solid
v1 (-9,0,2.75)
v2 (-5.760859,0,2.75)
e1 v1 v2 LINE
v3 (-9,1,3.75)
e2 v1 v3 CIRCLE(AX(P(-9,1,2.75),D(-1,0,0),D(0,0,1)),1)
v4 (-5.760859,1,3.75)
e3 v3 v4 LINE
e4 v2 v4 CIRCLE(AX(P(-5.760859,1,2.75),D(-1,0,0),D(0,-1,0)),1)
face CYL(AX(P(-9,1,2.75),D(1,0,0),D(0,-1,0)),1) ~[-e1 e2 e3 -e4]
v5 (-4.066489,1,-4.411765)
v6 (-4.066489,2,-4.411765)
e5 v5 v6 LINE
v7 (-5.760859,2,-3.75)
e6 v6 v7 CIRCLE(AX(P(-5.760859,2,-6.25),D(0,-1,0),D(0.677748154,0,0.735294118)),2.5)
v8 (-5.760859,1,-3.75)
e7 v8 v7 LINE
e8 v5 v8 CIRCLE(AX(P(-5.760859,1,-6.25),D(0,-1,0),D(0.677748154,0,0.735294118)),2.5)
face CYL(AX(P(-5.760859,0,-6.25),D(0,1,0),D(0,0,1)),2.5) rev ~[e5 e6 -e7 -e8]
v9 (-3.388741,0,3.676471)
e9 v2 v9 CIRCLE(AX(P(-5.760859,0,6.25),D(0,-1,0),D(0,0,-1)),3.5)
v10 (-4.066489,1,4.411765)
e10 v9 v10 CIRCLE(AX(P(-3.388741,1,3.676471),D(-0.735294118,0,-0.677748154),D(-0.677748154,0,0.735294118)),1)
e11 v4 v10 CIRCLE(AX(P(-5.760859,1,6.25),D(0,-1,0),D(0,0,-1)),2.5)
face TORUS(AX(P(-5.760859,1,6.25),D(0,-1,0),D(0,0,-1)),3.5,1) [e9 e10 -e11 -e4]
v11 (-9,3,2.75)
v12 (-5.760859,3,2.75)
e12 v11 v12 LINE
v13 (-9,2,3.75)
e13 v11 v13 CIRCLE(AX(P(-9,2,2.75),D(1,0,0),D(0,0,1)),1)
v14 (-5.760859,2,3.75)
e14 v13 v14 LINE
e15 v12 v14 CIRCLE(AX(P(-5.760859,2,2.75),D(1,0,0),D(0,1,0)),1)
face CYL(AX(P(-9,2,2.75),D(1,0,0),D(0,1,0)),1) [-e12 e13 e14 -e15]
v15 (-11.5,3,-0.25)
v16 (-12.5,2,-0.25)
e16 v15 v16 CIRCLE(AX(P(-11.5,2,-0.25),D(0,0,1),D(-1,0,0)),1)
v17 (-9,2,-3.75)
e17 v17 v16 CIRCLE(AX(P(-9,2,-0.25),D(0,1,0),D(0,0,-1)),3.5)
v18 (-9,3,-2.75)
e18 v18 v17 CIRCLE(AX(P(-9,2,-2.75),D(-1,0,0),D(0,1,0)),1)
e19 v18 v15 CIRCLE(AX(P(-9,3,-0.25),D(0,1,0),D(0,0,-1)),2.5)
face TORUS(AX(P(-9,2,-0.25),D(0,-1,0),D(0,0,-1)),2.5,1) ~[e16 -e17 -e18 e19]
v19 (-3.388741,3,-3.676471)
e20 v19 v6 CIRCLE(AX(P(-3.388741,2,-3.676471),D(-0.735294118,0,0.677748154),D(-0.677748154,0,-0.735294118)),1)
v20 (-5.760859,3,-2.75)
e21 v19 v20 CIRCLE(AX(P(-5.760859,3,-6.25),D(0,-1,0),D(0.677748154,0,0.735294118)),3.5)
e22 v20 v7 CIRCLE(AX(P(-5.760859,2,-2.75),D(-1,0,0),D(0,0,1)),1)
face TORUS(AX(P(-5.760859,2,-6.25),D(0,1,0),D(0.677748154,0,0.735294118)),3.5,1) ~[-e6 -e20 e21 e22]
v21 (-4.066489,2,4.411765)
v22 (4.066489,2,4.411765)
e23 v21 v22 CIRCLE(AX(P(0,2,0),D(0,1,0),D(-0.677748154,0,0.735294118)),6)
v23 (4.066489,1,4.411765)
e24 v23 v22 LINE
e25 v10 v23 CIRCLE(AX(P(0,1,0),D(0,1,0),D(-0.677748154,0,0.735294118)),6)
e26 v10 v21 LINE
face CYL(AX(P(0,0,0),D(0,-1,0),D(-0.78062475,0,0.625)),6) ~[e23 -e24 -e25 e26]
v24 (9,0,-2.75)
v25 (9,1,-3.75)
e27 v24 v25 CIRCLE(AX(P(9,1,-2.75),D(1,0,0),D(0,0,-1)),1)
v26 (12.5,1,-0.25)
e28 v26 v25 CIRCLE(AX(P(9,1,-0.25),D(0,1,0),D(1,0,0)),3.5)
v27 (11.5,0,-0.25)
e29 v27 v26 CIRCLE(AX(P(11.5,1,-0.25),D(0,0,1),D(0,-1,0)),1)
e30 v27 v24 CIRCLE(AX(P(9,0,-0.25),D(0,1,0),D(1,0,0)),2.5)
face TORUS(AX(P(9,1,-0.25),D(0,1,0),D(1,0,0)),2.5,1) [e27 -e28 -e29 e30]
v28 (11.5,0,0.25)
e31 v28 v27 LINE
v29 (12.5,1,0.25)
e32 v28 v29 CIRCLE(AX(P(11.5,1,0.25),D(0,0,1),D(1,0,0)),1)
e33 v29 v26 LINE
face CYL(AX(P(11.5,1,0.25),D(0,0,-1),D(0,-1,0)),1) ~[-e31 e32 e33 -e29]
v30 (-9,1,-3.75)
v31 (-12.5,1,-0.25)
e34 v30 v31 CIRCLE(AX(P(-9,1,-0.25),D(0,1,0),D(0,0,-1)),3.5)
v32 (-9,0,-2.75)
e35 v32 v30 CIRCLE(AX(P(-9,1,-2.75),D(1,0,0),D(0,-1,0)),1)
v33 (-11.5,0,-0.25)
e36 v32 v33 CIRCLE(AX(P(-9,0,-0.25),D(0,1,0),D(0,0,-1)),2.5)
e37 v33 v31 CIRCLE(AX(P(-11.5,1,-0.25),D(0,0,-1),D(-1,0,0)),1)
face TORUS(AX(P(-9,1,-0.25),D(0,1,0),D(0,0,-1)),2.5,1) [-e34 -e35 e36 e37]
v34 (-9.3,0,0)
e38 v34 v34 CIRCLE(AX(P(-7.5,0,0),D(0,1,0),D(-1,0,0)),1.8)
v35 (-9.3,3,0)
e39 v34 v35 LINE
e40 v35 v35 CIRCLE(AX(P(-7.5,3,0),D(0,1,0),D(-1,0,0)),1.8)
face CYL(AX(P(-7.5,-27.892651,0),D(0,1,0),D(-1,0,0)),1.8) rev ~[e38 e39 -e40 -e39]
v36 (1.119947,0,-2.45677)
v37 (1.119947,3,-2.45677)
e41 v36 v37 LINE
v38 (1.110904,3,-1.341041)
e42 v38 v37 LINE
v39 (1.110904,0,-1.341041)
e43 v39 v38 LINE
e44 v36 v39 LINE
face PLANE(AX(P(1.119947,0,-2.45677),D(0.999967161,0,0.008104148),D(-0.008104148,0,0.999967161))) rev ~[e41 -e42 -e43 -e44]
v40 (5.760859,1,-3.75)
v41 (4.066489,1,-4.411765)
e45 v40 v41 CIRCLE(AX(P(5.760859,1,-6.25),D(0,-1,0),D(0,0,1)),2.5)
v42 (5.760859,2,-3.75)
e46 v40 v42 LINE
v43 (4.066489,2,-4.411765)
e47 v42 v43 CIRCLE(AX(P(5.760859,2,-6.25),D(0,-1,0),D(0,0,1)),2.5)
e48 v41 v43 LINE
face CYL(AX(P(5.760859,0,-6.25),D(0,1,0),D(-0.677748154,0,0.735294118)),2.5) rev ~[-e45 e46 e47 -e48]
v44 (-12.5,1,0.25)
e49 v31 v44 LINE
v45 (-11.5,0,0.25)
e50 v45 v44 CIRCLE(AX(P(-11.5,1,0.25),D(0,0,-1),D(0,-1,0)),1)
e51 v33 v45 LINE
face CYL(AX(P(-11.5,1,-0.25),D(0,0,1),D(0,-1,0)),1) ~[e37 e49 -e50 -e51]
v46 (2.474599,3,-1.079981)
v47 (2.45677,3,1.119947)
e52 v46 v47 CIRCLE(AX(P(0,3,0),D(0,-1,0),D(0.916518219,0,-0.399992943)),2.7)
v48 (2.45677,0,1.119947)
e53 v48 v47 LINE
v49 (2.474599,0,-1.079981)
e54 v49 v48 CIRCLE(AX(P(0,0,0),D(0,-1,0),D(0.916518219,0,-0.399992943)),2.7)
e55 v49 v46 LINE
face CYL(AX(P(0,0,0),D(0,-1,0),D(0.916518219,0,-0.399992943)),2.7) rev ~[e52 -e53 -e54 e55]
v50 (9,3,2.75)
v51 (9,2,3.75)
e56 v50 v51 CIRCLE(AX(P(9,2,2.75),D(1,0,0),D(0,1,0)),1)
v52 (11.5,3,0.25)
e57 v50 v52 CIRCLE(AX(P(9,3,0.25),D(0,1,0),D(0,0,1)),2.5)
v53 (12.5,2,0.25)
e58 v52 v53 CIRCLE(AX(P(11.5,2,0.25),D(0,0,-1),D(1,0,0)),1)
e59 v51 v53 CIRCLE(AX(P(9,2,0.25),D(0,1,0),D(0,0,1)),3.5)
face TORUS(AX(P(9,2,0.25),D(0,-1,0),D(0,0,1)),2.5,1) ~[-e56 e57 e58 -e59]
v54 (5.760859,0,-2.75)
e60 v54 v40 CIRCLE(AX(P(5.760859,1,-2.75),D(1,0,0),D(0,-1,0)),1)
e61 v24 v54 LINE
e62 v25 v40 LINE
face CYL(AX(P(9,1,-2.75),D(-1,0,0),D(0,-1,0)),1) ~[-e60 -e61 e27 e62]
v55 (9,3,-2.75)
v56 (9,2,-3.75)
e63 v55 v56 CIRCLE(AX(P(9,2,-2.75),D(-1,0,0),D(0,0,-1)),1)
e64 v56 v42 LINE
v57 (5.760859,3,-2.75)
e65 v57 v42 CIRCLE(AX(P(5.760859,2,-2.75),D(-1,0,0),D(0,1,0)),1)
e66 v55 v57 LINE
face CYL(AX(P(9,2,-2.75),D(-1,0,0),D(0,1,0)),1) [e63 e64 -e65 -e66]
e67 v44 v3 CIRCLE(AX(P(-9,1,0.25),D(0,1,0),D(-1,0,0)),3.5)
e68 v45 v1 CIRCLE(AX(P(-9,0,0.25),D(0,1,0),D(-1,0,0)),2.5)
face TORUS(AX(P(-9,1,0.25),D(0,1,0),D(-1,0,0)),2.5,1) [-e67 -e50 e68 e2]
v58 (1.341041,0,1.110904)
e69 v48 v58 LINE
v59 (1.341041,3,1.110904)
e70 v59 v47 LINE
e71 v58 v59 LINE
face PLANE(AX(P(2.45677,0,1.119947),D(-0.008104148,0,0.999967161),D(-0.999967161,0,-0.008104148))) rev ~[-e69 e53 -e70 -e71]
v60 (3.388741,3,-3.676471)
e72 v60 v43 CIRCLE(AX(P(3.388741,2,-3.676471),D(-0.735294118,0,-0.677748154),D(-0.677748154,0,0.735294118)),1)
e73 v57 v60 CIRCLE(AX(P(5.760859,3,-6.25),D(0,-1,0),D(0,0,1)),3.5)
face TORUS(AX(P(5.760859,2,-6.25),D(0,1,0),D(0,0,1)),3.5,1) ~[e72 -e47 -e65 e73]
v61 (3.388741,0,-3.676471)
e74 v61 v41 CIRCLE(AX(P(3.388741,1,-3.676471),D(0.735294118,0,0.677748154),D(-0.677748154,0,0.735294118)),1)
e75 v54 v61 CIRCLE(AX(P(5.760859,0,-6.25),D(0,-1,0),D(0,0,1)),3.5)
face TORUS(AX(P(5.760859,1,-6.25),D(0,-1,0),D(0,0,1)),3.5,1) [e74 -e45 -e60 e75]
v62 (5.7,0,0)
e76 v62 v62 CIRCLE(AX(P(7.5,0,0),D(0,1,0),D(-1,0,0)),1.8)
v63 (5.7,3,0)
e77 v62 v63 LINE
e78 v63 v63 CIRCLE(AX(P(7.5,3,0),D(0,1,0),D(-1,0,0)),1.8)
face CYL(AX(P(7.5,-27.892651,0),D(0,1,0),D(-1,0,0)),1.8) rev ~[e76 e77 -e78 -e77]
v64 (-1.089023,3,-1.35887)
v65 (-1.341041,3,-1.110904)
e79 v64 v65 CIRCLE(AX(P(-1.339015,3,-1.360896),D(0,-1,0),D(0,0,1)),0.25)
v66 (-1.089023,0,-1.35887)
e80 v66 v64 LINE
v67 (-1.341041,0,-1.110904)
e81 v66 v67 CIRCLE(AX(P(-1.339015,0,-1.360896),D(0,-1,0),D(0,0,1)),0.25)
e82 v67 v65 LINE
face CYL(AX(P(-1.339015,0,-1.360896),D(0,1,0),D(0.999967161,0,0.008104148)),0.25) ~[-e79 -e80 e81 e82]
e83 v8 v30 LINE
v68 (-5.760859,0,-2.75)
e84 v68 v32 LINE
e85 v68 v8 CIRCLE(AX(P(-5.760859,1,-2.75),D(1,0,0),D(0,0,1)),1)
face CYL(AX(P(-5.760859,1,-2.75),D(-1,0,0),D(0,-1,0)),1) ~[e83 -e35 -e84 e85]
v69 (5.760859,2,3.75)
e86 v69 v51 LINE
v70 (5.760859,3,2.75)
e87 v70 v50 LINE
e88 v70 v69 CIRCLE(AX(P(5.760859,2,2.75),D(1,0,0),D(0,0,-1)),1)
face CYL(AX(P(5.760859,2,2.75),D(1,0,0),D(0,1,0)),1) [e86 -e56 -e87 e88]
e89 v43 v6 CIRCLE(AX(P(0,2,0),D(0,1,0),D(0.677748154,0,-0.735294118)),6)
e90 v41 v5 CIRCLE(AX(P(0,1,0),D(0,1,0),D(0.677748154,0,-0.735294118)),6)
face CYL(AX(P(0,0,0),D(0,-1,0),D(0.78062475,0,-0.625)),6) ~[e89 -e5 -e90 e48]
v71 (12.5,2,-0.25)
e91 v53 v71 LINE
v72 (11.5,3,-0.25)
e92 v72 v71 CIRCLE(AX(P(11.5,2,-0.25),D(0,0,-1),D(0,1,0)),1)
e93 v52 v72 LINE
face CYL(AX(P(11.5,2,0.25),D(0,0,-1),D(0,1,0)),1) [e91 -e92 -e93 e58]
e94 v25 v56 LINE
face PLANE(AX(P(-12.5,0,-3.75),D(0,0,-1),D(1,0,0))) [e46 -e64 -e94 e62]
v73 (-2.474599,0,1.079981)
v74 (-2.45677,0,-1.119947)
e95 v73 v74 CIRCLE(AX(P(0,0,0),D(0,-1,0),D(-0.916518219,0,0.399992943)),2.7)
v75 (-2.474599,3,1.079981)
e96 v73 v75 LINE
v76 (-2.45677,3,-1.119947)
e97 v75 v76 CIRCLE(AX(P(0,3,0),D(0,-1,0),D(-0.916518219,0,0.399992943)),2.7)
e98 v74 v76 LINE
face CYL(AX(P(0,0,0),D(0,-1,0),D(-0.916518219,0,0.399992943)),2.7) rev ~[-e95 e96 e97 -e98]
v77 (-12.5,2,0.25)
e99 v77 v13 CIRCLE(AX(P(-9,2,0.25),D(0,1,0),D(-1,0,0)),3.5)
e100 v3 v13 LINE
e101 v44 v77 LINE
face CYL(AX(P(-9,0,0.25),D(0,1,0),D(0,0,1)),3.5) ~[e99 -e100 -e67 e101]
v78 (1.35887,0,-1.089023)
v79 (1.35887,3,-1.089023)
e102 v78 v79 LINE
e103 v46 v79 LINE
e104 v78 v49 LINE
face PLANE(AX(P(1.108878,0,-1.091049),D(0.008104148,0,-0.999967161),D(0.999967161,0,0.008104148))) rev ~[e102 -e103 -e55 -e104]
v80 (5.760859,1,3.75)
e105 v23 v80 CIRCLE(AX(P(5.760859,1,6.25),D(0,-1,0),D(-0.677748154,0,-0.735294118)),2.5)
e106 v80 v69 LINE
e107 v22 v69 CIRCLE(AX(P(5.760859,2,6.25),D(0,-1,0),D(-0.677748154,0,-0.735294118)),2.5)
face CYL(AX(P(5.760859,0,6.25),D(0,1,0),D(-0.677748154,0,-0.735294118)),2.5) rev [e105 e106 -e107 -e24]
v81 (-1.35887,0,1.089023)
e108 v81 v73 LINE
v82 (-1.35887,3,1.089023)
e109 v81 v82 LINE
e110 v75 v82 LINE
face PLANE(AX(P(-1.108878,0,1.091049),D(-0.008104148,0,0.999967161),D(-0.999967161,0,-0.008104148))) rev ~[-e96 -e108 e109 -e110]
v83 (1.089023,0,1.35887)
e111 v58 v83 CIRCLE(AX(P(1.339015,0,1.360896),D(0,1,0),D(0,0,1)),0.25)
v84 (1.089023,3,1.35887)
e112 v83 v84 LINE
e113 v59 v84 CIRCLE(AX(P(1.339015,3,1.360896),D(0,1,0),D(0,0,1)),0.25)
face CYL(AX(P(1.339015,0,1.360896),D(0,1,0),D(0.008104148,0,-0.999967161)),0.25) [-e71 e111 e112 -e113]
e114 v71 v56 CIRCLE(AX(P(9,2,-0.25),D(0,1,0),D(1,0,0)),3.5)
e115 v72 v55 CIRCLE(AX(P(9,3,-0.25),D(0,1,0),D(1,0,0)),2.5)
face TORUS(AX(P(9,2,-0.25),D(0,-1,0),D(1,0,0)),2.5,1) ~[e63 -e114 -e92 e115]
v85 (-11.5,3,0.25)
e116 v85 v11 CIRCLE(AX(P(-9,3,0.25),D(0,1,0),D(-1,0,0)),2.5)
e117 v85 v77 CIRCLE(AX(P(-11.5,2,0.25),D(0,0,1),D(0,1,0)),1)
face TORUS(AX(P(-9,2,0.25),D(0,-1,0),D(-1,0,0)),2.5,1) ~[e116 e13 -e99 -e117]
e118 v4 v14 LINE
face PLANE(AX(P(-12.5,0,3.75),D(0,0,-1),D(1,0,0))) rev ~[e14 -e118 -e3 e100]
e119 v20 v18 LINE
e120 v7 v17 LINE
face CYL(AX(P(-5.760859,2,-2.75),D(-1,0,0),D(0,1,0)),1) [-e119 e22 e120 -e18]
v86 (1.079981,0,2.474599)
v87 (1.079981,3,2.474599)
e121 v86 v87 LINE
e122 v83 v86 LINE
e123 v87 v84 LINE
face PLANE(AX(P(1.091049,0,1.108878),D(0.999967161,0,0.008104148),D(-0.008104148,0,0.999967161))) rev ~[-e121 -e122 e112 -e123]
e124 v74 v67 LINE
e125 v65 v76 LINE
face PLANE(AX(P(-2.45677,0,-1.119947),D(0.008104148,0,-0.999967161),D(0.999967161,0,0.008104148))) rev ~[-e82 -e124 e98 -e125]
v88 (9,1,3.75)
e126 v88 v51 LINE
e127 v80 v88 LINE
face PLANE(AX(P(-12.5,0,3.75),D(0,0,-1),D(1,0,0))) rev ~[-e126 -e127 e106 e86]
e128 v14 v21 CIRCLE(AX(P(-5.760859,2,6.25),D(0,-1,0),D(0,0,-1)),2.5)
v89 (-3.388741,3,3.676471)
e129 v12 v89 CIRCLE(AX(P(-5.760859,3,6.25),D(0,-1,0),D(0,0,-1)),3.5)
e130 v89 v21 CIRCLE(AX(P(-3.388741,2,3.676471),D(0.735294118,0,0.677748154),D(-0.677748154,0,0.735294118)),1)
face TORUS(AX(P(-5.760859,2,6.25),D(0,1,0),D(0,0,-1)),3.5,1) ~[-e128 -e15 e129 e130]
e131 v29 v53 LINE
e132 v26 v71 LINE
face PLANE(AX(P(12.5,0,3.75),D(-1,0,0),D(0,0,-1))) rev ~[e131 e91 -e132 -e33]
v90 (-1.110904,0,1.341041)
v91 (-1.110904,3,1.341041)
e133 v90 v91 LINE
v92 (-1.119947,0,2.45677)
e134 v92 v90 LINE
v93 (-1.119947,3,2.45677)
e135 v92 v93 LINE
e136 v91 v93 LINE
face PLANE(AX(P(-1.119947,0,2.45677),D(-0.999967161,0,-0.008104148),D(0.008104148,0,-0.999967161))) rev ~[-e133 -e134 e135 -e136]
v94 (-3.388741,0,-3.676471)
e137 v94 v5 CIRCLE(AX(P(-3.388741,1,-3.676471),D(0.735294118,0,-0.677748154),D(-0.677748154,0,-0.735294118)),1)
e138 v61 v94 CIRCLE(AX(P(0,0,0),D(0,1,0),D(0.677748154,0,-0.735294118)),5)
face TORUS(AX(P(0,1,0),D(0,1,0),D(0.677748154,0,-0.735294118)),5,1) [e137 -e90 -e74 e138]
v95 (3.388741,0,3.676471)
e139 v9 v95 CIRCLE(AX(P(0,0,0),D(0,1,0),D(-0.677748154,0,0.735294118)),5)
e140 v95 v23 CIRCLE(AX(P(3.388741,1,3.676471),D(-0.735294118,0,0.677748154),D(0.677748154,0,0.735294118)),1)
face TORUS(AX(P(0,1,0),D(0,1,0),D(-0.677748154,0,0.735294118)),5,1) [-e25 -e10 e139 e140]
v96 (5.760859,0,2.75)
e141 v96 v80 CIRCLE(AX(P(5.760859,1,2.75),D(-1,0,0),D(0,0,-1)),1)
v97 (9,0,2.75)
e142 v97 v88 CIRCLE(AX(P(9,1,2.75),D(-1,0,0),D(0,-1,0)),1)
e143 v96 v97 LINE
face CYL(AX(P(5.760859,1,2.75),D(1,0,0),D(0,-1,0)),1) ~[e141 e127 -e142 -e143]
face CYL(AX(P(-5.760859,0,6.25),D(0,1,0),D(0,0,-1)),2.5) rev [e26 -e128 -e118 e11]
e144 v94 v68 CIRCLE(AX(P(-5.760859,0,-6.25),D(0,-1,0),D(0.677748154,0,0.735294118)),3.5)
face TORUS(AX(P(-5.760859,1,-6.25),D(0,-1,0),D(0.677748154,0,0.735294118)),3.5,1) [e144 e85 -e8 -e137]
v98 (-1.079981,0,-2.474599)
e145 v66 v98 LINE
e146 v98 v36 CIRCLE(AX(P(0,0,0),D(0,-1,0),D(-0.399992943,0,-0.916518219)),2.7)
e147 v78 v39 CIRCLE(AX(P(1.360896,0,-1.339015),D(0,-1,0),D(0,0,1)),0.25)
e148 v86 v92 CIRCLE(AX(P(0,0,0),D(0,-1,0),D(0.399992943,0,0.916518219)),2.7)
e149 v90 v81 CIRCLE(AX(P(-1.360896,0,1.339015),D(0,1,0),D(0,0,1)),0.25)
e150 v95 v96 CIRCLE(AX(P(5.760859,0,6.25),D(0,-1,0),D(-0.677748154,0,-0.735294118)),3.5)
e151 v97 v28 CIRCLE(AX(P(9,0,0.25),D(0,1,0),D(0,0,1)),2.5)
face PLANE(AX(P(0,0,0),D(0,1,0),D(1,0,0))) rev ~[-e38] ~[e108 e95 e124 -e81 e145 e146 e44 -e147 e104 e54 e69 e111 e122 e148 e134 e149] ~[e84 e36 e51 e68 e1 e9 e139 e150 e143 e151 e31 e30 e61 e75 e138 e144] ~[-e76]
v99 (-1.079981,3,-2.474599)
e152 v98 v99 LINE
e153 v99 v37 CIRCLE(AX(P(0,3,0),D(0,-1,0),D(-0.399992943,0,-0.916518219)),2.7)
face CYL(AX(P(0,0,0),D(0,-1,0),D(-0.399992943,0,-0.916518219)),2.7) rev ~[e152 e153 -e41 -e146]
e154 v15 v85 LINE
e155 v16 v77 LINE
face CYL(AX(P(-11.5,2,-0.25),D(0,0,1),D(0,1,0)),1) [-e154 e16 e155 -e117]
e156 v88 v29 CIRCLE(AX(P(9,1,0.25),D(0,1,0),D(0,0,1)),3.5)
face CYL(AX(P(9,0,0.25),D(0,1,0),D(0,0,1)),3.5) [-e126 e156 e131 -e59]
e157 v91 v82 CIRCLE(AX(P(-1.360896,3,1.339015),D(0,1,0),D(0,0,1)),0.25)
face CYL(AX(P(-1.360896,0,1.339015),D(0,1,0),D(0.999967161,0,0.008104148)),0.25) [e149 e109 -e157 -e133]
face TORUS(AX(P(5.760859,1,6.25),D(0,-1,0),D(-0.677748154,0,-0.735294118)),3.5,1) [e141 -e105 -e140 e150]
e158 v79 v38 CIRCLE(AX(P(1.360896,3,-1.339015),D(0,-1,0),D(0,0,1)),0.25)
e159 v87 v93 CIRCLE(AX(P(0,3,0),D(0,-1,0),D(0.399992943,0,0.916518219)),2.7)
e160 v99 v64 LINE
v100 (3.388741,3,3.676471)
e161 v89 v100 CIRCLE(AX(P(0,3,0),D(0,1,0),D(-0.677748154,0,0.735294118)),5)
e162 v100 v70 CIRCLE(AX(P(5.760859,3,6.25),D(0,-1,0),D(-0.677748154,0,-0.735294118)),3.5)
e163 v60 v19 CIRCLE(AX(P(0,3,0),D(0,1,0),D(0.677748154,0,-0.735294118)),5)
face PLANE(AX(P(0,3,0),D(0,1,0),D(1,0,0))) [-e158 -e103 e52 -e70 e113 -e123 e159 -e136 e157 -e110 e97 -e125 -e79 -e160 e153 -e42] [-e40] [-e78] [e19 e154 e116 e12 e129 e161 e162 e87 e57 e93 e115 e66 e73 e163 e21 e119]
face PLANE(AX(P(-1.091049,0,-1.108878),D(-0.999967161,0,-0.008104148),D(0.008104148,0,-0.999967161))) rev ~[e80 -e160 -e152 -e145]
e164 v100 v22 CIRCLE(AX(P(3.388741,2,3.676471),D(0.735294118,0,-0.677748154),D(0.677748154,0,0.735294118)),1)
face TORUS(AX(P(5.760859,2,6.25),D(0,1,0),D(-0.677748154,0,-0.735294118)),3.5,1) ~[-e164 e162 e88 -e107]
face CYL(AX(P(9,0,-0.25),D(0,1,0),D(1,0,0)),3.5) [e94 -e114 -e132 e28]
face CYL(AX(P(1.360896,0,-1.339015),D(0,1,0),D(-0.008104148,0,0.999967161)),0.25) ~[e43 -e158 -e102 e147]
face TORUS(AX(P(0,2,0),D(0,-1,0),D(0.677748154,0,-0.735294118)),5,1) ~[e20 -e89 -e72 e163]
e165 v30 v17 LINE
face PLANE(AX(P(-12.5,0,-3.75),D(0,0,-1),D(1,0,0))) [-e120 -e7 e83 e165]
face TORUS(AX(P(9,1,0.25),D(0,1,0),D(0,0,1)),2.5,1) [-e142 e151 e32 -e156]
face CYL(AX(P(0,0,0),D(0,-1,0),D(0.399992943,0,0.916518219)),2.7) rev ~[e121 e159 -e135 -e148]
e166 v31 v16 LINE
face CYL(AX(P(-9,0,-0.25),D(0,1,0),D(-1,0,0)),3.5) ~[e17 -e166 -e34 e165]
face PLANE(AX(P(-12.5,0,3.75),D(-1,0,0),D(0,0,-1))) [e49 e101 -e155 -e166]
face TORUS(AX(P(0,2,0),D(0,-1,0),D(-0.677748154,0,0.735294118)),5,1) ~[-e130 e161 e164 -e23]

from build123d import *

# Parameters (mm, degrees)
SKETCH1_W            = 25
SKETCH1_H            = 7.5
BOSS_EXTRUDE1_DEPTH  = 3
CUT_EXTRUDE2_DEPTH   = 4
BOSS_EXTRUDE2_DEPTH  = 3
FILLET8_R            = 2.5
FILLET4_R            = 3.5
M3_CLEARANCE_HOLE1_D = 3.6
FILLET6_R            = 1
FILLET7_R            = 0.25


with BuildPart() as part:
    # Sketch1 → Boss-Extrude1 (new body)
    with BuildSketch(Plane(origin=(0, 0, 0), x_dir=(1, 0, 0), z_dir=(0, 1, 0))):
        Rectangle(SKETCH1_W, SKETCH1_H)
    extrude(amount=BOSS_EXTRUDE1_DEPTH)

    # Sketch1<3> → Cut-Extrude2 (cut, through all)
    with BuildSketch(Plane(origin=(0, 0, 0), x_dir=(1, 0, 0), z_dir=(0, 1, 0))):
        with BuildLine():
            Line((2.456770065, -1.119946806), (1.091049314, -1.10887844))
            Line((1.091049314, -1.10887844), (1.079980948, -2.47459919))
            ThreePointArc((1.079980948, -2.47459919), (-0.021881199, -2.699911334), (-1.119946806, -2.456770065))
            Line((-1.119946806, -2.456770065), (-1.10887844, -1.091049314))
            Line((-1.10887844, -1.091049314), (-2.47459919, -1.079980948))
            ThreePointArc((-2.47459919, -1.079980948), (-2.699911334, 0.021881199), (-2.456770065, 1.119946806))
            Line((-2.456770065, 1.119946806), (-1.091049314, 1.10887844))
            Line((-1.091049314, 1.10887844), (-1.079980948, 2.47459919))
            ThreePointArc((-1.079980948, 2.47459919), (0.021881199, 2.699911334), (1.119946806, 2.456770065))
            Line((1.119946806, 2.456770065), (1.10887844, 1.091049314))
            Line((1.10887844, 1.091049314), (2.47459919, 1.079980948))
            ThreePointArc((2.47459919, 1.079980948), (2.699911334, -0.021881199), (2.456770065, -1.119946806))
        make_face()
        with BuildLine():
            ThreePointArc((-0.818311322, -2.256184075), (-0.019449955, -2.399921186), (0.781636135, -2.269150712))
            Line((0.781636135, -2.269150712), (0.79349041, -0.806457047))
            Line((0.79349041, -0.806457047), (2.256184075, -0.818311322))
            ThreePointArc((2.256184075, -0.818311322), (2.399921186, -0.019449955), (2.269150712, 0.781636135))
            Line((2.269150712, 0.781636135), (0.806457047, 0.79349041))
            Line((0.806457047, 0.79349041), (0.818311322, 2.256184075))
            ThreePointArc((0.818311322, 2.256184075), (0.019449955, 2.399921186), (-0.781636135, 2.269150712))
            Line((-0.781636135, 2.269150712), (-0.79349041, 0.806457047))
            Line((-0.79349041, 0.806457047), (-2.256184075, 0.818311322))
            ThreePointArc((-2.256184075, 0.818311322), (-2.399921186, 0.019449955), (-2.269150712, -0.781636135))
            Line((-2.269150712, -0.781636135), (-0.806457047, -0.79349041))
            Line((-0.806457047, -0.79349041), (-0.818311322, -2.256184075))
        make_face(mode=Mode.SUBTRACT)
        with BuildLine():
            Line((-0.818311322, -2.256184075), (-0.806457047, -0.79349041))
            Line((-0.806457047, -0.79349041), (-2.269150712, -0.781636135))
            ThreePointArc((-2.269150712, -0.781636135), (-2.399921186, 0.019449955), (-2.256184075, 0.818311322))
            Line((-2.256184075, 0.818311322), (-0.79349041, 0.806457047))
            Line((-0.79349041, 0.806457047), (-0.781636135, 2.269150712))
            ThreePointArc((-0.781636135, 2.269150712), (0.019449955, 2.399921186), (0.818311322, 2.256184075))
            Line((0.818311322, 2.256184075), (0.806457047, 0.79349041))
            Line((0.806457047, 0.79349041), (2.269150712, 0.781636135))
            ThreePointArc((2.269150712, 0.781636135), (2.399921186, -0.019449955), (2.256184075, -0.818311322))
            Line((2.256184075, -0.818311322), (0.79349041, -0.806457047))
            Line((0.79349041, -0.806457047), (0.781636135, -2.269150712))
            ThreePointArc((0.781636135, -2.269150712), (-0.019449955, -2.399921186), (-0.818311322, -2.256184075))
        make_face()
    extrude(amount=CUT_EXTRUDE2_DEPTH, mode=Mode.SUBTRACT)

    # Sketch4 → Boss-Extrude2 (add)
    with BuildSketch(Plane(origin=(0, 0, 0), x_dir=(1, 0, 0), z_dir=(0, 1, 0))):
        with BuildLine():
            Line((-4.683748499, 3.75), (4.683748499, 3.75))
            ThreePointArc((4.683748499, 3.75), (0, 6), (-4.683748499, 3.75))
        make_face()
        with BuildLine():
            ThreePointArc((-4.683748499, -3.75), (0, -6), (4.683748499, -3.75))
            Line((4.683748499, -3.75), (-4.683748499, -3.75))
        make_face()
    extrude(amount=BOSS_EXTRUDE2_DEPTH)

    # Fillet8
    fillet8_edges = [part.edges().sort_by_distance(p)[0] for p in [
        (-4.683748499, 1.5, -3.75),
        (4.683748499, 1.5, -3.75),
        (4.683748499, 1.5, 3.75),
        (-4.683748499, 1.5, 3.75),
    ]]
    fillet(fillet8_edges, radius=FILLET8_R)

    # Fillet4
    fillet4_edges = [part.edges().sort_by_distance(p)[0] for p in [
        (-12.5, 1.5, 3.75),
        (-12.5, 1.5, -3.75),
        (12.5, 1.5, 3.75),
        (12.5, 1.5, -3.75),
    ]]
    fillet(fillet4_edges, radius=FILLET4_R)

    # M3 Clearance Hole1 (through all)
    with Locations(Plane.XZ):
        with Locations((-7.5, 0), (7.5, 0)):
            Hole(M3_CLEARANCE_HOLE1_D / 2)

    # Fillet6
    fillet6_edges = [part.edges().sort_by_distance(p)[0] for p in [
        (0, 3, 6),
        (0, 0, 6),
        (7.380429655, 0, 3.75),
        (7.380429655, 3, 3.75),
        (0, 3, -6),
        (0, 0, -6),
        (7.380429655, 0, -3.75),
        (7.380429655, 3, -3.75),
        (-4.851350717, 0, 3.921310644),
        (-4.851350717, 3, 3.921310644),
        (4.851350717, 0, 3.921310644),
        (4.851350717, 3, 3.921310644),
        (4.851350717, 0, -3.921310644),
        (4.851350717, 3, -3.921310644),
        (-4.851350717, 0, -3.921310644),
        (-4.851350717, 3, -3.921310644),
        (-7.380429655, 0, 3.75),
        (-12.5, 0, 0),
        (-7.380429655, 0, -3.75),
        (12.5, 0, 0),
        (-11.474873734, 0, -2.724873734),
        (-11.474873734, 0, 2.724873734),
        (11.474873734, 0, 2.724873734),
        (11.474873734, 0, -2.724873734),
        (12.5, 3, 0),
        (-7.380429655, 3, 3.75),
        (-7.380429655, 3, -3.75),
        (-12.5, 3, 0),
        (-11.474873734, 3, -2.724873734),
        (-11.474873734, 3, 2.724873734),
        (11.474873734, 3, 2.724873734),
        (11.474873734, 3, -2.724873734),
    ]]
    fillet(fillet6_edges, radius=FILLET6_R)

    # Fillet7
    fillet7_edges = [part.edges().sort_by_distance(p)[0] for p in [
        (1.091049314, 1.5, 1.10887844),
        (1.10887844, 1.5, -1.091049314),
        (-1.091049314, 1.5, -1.10887844),
        (-1.10887844, 1.5, 1.091049314),
    ]]
    fillet(fillet7_edges, radius=FILLET7_R)


solid = part.part
